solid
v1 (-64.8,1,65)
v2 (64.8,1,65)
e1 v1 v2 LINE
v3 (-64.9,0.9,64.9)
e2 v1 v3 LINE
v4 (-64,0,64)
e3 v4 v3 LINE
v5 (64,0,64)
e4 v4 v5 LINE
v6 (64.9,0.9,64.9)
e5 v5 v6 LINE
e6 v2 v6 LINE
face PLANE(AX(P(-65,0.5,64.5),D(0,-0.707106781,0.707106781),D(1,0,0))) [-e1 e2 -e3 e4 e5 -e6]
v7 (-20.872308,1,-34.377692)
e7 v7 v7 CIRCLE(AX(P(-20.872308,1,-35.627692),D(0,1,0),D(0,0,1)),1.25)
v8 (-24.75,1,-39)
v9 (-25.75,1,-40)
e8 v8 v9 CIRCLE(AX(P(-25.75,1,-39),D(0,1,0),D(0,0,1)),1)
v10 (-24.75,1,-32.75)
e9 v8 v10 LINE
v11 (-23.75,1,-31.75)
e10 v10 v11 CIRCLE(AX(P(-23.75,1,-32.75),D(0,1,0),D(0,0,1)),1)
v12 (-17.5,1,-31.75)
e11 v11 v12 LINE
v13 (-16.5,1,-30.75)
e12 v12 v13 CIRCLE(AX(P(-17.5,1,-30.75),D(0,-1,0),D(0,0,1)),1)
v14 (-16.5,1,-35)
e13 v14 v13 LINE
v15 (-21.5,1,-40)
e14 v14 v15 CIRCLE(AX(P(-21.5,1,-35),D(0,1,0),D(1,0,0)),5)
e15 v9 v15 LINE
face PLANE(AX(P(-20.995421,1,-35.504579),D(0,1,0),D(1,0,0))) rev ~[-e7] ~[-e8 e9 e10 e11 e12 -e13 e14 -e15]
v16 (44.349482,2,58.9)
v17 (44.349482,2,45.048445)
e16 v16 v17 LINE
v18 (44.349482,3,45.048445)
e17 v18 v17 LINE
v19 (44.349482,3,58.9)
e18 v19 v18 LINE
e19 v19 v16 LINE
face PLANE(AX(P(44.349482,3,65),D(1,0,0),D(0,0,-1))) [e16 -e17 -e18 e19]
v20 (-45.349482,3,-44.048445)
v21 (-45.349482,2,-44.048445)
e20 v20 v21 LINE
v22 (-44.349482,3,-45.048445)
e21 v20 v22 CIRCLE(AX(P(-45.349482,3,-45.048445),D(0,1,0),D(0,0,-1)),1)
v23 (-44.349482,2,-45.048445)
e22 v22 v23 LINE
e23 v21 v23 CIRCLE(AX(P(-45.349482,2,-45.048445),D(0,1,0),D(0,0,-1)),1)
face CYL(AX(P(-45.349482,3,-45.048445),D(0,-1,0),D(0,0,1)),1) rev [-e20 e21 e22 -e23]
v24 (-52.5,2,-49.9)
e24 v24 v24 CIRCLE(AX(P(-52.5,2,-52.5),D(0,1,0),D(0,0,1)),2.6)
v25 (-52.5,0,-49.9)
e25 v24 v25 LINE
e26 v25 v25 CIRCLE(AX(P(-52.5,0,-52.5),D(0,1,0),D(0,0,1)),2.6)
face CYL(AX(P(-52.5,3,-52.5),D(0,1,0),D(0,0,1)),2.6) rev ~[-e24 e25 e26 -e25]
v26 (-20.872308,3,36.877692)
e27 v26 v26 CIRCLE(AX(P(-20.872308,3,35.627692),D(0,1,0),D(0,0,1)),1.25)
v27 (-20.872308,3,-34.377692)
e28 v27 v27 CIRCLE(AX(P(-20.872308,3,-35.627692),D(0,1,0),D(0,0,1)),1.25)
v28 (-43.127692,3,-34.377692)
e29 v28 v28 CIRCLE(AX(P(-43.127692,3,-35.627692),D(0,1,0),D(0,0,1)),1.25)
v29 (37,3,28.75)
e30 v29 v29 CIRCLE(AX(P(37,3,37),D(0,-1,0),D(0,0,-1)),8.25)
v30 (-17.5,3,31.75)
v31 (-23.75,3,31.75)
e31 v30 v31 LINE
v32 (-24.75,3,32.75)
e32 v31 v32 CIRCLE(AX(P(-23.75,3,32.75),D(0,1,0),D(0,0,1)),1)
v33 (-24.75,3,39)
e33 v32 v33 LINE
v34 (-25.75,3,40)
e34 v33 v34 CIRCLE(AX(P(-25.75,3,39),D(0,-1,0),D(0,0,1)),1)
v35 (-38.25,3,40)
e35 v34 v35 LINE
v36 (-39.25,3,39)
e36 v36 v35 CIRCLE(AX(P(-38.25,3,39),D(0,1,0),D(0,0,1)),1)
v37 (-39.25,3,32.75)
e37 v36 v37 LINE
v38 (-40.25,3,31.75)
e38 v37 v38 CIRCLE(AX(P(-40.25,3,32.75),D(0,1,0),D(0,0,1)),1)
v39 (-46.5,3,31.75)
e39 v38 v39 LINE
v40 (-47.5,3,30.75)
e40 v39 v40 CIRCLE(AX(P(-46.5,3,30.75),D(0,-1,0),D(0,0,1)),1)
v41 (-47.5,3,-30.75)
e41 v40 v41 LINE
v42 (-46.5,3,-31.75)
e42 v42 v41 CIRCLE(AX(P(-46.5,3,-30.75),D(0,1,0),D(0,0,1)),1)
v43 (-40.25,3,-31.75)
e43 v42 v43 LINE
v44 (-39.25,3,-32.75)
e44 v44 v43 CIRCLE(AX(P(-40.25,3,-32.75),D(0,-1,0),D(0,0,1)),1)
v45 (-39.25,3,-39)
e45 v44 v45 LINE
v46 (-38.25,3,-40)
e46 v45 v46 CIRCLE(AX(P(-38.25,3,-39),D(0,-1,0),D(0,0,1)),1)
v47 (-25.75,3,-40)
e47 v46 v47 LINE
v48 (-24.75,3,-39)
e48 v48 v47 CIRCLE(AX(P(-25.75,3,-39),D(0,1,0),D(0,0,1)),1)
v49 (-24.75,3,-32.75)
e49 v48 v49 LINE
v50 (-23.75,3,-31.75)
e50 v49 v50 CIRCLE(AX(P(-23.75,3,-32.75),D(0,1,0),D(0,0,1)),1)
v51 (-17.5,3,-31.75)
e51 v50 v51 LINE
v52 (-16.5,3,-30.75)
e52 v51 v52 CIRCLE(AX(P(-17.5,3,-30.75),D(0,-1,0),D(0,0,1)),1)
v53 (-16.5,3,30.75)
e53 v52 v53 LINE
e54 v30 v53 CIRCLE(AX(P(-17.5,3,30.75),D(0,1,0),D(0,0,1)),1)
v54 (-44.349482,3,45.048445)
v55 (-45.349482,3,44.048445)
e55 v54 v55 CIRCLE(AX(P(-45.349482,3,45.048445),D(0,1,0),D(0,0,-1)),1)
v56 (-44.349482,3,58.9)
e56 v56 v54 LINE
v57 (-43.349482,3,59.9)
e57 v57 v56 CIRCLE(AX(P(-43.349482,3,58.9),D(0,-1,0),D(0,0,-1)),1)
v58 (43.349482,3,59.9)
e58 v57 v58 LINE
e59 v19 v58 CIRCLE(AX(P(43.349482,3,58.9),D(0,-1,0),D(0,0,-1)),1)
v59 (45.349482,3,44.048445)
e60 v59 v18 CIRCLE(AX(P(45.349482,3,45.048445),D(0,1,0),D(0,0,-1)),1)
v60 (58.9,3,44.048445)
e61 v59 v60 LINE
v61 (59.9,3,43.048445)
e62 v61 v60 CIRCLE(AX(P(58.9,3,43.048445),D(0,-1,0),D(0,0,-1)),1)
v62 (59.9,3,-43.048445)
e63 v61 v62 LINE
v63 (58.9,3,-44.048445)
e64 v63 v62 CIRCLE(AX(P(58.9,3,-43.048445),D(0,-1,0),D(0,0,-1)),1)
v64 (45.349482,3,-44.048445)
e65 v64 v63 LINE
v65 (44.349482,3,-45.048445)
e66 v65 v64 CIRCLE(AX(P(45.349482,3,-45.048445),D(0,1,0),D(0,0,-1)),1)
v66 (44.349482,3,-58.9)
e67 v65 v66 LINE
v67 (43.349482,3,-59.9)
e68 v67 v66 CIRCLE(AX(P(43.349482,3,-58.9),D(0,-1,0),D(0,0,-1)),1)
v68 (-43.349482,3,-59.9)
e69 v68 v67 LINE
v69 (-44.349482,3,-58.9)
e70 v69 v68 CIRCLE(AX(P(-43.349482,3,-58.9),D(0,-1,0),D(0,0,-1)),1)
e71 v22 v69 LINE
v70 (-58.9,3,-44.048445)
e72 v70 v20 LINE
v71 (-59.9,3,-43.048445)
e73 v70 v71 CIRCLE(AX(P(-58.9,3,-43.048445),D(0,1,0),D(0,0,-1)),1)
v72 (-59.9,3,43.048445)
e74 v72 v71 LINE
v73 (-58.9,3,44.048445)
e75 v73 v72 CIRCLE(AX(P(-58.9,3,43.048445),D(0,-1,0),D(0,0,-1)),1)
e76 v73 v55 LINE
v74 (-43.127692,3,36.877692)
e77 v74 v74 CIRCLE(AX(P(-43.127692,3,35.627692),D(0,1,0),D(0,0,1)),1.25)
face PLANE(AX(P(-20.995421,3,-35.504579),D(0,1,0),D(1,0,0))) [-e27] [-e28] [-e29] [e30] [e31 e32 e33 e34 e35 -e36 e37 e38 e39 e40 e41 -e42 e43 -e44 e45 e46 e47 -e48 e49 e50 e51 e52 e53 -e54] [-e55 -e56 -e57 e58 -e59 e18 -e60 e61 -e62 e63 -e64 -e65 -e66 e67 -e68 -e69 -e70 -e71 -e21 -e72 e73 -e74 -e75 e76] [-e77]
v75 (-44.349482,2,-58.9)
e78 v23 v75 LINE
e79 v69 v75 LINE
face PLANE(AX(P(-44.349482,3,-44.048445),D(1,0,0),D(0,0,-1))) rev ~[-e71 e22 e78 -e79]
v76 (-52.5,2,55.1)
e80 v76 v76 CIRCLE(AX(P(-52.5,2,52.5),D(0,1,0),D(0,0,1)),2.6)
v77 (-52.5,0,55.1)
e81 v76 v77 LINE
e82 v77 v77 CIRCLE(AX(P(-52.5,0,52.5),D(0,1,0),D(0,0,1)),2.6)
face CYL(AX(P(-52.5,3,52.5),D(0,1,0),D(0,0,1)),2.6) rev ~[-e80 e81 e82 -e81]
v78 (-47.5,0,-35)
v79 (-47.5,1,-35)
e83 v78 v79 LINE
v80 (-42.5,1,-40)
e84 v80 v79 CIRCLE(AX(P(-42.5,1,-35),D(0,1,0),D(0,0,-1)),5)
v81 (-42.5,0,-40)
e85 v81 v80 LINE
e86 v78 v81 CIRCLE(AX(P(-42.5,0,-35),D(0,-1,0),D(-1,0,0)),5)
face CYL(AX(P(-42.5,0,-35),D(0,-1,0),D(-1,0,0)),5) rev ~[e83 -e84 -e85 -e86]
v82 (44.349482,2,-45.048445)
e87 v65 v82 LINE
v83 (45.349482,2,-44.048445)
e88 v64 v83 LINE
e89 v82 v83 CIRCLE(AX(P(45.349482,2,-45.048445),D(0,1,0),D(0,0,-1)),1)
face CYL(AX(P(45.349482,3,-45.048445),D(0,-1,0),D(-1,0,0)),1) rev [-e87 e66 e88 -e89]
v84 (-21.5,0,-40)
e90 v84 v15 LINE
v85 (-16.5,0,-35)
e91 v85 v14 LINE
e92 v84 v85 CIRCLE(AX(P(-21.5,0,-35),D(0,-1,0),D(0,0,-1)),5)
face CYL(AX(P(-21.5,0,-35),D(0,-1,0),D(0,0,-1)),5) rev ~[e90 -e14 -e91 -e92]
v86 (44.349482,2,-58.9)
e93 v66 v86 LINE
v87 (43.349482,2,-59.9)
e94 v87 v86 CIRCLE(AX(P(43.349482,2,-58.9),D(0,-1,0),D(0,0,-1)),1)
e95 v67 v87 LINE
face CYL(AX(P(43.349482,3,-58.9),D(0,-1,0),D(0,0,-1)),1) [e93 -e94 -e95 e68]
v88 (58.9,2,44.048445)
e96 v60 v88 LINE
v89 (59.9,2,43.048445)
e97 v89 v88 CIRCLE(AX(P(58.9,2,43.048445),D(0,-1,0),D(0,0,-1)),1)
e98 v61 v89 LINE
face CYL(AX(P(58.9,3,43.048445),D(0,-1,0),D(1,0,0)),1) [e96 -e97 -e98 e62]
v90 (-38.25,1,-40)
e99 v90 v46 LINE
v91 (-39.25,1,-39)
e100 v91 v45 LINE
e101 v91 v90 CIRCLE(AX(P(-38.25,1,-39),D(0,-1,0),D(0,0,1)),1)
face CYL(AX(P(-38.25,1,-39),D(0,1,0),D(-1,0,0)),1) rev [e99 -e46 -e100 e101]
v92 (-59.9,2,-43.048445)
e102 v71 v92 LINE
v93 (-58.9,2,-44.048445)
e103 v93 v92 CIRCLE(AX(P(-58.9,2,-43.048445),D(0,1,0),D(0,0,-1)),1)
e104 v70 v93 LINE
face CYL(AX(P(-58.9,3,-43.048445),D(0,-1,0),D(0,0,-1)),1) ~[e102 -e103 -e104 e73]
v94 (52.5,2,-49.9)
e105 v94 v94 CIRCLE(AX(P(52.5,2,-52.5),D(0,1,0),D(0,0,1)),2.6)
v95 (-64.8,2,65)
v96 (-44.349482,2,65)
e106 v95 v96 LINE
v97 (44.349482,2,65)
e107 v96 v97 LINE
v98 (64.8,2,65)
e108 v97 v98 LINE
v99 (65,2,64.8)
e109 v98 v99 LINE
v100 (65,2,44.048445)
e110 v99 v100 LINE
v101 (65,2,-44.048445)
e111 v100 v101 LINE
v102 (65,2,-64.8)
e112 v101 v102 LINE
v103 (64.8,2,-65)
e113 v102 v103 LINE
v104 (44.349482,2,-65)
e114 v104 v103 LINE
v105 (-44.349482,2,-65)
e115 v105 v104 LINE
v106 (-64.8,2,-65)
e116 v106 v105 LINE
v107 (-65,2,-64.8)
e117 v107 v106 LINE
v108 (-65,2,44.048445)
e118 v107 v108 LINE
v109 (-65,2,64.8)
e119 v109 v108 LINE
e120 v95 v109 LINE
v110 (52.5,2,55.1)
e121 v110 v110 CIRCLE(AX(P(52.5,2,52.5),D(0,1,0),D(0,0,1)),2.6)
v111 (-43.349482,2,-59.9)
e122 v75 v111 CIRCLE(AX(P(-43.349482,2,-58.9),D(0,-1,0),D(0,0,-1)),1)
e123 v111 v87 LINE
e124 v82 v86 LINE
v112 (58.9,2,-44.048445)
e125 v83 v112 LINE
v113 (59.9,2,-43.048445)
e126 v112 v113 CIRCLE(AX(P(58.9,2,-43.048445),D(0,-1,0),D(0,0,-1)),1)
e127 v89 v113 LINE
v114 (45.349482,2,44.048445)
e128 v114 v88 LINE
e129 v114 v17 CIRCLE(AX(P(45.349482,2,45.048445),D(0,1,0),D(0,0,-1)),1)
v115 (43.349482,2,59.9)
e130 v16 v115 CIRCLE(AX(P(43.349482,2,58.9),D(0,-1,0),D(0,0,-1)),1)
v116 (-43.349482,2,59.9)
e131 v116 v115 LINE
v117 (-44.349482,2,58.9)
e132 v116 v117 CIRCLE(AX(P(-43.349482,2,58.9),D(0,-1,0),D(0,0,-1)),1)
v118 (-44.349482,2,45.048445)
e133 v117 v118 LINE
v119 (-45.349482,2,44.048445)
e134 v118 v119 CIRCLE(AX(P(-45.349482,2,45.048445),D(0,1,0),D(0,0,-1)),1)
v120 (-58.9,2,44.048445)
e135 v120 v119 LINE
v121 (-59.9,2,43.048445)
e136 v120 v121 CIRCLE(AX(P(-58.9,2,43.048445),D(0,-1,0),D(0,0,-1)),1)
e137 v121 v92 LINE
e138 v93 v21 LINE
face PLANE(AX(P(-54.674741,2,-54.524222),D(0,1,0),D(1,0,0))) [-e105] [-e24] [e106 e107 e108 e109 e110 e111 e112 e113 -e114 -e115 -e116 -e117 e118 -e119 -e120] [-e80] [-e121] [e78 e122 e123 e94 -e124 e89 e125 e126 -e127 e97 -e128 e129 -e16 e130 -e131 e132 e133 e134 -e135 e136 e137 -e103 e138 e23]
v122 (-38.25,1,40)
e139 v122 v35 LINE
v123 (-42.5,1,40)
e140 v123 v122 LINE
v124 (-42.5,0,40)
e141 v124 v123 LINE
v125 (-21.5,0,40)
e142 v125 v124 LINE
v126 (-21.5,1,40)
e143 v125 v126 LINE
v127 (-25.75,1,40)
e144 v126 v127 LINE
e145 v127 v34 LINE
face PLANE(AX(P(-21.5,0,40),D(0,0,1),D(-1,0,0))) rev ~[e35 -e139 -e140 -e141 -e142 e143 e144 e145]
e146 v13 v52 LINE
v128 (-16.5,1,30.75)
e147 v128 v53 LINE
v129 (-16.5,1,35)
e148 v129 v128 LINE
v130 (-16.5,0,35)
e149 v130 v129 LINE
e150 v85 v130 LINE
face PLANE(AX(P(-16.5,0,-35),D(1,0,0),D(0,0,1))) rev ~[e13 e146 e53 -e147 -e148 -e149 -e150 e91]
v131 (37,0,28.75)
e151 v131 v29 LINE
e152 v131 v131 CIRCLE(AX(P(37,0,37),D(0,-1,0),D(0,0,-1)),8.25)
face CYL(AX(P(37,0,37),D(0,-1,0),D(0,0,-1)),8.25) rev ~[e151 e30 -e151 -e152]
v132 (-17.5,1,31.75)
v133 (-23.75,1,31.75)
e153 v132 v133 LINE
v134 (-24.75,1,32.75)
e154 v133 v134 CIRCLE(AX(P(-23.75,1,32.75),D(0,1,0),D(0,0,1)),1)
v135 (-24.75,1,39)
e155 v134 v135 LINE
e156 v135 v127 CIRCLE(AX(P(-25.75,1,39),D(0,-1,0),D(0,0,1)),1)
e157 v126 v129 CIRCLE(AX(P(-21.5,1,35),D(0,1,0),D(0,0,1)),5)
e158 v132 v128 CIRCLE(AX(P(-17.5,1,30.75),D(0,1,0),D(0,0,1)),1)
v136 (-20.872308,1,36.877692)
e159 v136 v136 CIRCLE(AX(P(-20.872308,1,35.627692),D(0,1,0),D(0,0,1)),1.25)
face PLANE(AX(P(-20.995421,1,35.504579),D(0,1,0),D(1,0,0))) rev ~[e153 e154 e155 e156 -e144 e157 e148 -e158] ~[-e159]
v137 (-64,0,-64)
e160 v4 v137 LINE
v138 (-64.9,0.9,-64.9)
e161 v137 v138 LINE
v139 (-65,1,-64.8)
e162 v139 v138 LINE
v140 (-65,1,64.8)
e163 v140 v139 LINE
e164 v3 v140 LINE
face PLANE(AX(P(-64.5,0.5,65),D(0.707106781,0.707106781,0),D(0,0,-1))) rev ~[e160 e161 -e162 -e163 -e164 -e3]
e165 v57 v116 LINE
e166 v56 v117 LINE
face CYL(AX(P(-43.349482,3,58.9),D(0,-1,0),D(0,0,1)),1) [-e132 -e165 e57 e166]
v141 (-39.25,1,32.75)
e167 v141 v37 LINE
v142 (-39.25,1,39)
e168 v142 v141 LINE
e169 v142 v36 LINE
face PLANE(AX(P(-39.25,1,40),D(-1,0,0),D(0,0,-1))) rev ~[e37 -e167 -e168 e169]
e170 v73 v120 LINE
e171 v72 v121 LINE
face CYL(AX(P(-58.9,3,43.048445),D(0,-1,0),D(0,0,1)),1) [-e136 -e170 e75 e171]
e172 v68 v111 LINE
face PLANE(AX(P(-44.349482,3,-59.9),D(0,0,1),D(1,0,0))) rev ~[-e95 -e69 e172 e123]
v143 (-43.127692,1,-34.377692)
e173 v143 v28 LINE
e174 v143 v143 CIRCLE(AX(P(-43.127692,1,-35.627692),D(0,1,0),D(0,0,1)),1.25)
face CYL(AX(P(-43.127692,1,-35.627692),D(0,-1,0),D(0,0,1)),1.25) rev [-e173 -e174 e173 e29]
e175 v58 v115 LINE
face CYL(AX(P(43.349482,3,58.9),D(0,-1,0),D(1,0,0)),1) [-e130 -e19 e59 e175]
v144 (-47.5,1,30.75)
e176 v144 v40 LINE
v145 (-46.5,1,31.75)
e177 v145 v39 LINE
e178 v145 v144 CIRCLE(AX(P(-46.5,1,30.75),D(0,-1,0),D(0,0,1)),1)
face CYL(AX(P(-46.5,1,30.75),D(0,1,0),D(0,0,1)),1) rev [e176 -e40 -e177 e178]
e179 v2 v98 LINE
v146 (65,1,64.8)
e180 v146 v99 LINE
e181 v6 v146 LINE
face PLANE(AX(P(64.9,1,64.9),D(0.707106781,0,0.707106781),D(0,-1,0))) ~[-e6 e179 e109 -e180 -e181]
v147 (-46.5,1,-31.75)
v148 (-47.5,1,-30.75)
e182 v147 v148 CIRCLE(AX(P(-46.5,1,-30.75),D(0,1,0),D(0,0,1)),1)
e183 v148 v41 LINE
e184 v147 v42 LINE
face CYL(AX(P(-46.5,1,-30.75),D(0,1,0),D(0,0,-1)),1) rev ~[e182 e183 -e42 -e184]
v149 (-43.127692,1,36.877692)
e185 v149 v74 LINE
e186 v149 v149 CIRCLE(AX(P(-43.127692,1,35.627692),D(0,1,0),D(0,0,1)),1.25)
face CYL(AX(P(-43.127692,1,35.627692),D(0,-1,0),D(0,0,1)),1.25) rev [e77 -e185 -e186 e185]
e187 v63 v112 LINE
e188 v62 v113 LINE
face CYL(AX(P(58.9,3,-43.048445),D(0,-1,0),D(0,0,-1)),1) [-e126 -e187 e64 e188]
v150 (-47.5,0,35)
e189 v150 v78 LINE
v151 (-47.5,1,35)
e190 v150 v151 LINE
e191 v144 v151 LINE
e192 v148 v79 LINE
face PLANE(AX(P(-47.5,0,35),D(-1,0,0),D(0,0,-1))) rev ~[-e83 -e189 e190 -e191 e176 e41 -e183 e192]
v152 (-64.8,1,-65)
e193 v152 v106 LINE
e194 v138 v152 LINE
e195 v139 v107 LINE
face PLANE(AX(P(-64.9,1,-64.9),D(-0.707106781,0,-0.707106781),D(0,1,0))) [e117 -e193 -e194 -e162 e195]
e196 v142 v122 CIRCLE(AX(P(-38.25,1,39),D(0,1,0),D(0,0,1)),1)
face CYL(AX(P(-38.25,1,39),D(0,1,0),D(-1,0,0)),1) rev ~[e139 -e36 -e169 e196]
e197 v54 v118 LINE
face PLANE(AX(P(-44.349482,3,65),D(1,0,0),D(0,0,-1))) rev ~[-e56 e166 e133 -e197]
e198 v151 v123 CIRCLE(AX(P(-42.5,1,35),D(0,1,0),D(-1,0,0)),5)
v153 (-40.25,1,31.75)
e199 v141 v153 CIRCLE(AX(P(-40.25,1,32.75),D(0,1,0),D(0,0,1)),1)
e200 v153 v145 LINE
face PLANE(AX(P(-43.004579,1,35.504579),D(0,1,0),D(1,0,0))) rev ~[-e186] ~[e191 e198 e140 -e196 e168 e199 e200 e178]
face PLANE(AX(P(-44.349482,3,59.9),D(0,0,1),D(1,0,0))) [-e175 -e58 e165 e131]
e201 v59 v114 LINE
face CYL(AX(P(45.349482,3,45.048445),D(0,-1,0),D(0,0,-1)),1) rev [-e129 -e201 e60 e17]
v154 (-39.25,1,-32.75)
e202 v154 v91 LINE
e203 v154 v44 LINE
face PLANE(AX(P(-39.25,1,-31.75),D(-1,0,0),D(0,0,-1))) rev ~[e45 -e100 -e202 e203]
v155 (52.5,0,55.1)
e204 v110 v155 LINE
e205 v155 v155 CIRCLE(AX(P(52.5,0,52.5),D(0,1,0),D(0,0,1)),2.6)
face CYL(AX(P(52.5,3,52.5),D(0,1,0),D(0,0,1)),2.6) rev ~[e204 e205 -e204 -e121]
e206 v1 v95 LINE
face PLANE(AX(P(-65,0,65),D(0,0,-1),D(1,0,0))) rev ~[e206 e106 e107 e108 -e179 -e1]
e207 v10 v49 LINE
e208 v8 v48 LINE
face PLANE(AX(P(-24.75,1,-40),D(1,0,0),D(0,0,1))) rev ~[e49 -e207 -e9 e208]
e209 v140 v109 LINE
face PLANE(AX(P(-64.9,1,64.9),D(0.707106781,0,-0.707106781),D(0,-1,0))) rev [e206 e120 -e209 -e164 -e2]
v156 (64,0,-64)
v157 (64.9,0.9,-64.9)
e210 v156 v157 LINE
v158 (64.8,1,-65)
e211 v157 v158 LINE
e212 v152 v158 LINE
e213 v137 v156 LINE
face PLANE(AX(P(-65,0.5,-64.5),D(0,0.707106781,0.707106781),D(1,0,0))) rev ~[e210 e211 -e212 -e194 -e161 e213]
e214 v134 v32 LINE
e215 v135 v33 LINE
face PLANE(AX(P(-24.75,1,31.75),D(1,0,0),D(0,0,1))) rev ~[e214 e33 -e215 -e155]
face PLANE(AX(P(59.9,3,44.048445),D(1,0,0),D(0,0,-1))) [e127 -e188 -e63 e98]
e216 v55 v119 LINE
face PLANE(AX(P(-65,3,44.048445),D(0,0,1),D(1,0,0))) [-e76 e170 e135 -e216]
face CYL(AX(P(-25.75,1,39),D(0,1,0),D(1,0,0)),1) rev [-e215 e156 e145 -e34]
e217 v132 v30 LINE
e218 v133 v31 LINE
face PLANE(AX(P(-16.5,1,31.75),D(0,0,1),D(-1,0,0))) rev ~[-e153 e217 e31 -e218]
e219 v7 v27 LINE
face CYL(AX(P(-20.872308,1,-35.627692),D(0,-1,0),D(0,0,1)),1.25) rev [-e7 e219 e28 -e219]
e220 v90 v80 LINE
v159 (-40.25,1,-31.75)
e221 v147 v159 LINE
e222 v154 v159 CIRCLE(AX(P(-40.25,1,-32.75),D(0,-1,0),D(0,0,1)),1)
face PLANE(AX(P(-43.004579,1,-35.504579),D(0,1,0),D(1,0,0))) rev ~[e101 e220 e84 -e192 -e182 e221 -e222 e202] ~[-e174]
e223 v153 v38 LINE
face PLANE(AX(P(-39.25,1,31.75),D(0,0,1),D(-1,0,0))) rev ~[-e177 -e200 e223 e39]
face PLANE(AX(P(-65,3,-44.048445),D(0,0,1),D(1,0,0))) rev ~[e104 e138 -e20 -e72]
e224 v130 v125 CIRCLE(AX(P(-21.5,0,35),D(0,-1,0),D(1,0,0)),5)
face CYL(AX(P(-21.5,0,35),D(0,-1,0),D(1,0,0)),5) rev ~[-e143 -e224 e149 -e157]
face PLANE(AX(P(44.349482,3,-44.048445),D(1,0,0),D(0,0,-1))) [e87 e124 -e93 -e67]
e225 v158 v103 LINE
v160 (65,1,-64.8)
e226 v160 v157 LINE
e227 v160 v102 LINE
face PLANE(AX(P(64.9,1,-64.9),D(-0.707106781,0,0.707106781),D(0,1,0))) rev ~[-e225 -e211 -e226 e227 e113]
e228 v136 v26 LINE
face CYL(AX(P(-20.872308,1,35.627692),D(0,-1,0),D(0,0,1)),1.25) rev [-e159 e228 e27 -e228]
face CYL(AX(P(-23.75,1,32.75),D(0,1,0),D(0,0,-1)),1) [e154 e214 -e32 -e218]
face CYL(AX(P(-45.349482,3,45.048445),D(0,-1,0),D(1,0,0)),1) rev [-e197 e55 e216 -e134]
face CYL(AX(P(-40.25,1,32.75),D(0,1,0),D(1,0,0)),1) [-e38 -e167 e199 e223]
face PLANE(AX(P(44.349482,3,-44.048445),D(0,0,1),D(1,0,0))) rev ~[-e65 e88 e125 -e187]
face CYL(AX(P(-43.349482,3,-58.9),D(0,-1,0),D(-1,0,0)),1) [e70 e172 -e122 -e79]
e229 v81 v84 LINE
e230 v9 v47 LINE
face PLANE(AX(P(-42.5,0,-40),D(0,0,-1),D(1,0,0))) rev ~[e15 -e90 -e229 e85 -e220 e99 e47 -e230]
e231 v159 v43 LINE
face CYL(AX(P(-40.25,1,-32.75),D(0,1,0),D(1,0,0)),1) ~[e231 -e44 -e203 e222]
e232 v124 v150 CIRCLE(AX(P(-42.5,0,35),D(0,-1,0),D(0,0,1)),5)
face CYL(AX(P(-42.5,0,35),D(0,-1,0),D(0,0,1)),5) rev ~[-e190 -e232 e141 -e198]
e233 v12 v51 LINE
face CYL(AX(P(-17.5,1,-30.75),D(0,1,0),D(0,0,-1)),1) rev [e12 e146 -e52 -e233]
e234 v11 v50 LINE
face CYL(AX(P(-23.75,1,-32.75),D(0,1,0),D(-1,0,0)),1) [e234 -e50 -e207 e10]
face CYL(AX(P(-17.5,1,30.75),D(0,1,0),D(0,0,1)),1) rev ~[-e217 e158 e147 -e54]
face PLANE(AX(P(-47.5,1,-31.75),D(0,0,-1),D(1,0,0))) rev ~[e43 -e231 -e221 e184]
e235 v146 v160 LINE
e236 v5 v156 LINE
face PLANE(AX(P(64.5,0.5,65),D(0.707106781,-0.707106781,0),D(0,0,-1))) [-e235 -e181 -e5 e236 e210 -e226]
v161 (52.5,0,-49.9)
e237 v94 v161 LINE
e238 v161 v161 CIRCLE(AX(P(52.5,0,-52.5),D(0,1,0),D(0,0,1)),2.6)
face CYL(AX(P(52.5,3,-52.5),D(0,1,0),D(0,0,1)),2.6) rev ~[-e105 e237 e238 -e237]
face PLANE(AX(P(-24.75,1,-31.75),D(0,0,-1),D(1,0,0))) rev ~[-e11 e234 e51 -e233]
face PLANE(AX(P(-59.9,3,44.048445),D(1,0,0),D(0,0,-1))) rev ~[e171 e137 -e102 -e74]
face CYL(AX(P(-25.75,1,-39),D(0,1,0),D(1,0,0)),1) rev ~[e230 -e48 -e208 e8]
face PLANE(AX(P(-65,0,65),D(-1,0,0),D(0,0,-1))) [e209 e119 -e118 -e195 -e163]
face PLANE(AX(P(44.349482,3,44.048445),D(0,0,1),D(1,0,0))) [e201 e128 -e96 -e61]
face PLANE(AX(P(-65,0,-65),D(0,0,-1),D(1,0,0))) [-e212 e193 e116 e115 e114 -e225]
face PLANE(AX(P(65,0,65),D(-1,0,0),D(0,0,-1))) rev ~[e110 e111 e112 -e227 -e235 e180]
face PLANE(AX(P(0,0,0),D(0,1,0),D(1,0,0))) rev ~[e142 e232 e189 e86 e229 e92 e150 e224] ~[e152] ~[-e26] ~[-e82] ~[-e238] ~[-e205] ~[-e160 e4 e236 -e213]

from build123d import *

# Parameters (mm, degrees)
SKETCH_1_W          = 130
SKETCH_1_H          = 130
EXTRUDE_1_DEPTH     = 3
SKETCH_2_R          = 2.6
CUT_EXTRUDE_1_DEPTH = 92.972822073
SKETCH_4_W          = 20.650518397
SKETCH_4_H          = 20.951555191
CUT_EXTRUDE_2_DEPTH = 1
SKETCH_5_W          = 88.698963206
SKETCH_5_H          = 5.1
SKETCH_5_W_2        = 5.1
SKETCH_5_H_2        = 88.096889618
CUT_EXTRUDE_3_DEPTH = 1
CUT_EXTRUDE_4_DEPTH = 3
EXTRUDE_START       = -2
SKETCH_7_R          = 1.25
EXTRUDE_2_DEPTH     = 2
FILLET_1_R          = 1
SKETCH_15_R         = 8.25
CUT_EXTRUDE_9_DEPTH = 92.972822073
CHAMFER_1_SIZE      = 1
CHAMFER_2_SIZE      = 0.2
FILLET_3_R          = 1
FILLET_4_R          = 1


with BuildPart() as part:
    # 草图1 → 凸台-拉伸1 (new body)
    with BuildSketch(Plane(origin=(0, 0, 0), x_dir=(1, 0, 0), z_dir=(0, 1, 0))):
        Rectangle(SKETCH_1_W, SKETCH_1_H)
    extrude(amount=EXTRUDE_1_DEPTH)

    # 草图2 → 切除-拉伸1 (cut, through all)
    with BuildSketch(Plane(origin=(0, 3, 0), x_dir=(1, 0, 0), z_dir=(0, 1, 0))):
        with Locations(Location((52.5, 52.5, 0), (0, 0, 270))):
            Circle(SKETCH_2_R)
        with Locations(Location((52.5, -52.5, 0), (0, 0, 270))):
            Circle(SKETCH_2_R)
        with Locations(Location((-52.5, -52.5, 0), (0, 0, 270))):
            Circle(SKETCH_2_R)
        with Locations(Location((-52.5, 52.5, 0), (0, 0, 270))):
            Circle(SKETCH_2_R)
    extrude(amount=-CUT_EXTRUDE_1_DEPTH, mode=Mode.SUBTRACT)

    # 草图4 → 切除-拉伸2 (cut)
    with BuildSketch(Plane(origin=(0, 3, 0), x_dir=(1, 0, 0), z_dir=(0, 1, 0))):
        with Locations((54.674740802, 54.524222405)):
            Rectangle(SKETCH_4_W, SKETCH_4_H)
        with Locations((-54.674740802, -54.524222405)):
            Rectangle(SKETCH_4_W, SKETCH_4_H)
        with Locations((54.674740802, -54.524222405)):
            Rectangle(SKETCH_4_W, SKETCH_4_H)
        with Locations((-54.674740802, 54.524222405)):
            Rectangle(SKETCH_4_W, SKETCH_4_H)
    extrude(amount=-CUT_EXTRUDE_2_DEPTH, mode=Mode.SUBTRACT)

    # 草图5 → 切除-拉伸3 (cut)
    with BuildSketch(Plane(origin=(0, 3, 0), x_dir=(1, 0, 0), z_dir=(0, 1, 0))):
        with Locations((0, 62.45)):
            Rectangle(SKETCH_5_W, SKETCH_5_H)
        with Locations((62.45, 0)):
            Rectangle(SKETCH_5_W_2, SKETCH_5_H_2)
        with Locations((0, -62.45)):
            Rectangle(SKETCH_5_W, SKETCH_5_H)
        with Locations((-62.45, 0)):
            Rectangle(SKETCH_5_W_2, SKETCH_5_H_2)
    extrude(amount=-CUT_EXTRUDE_3_DEPTH, mode=Mode.SUBTRACT)

    # 草图6 → 切除-拉伸4 (cut)
    with BuildSketch(Plane(origin=(0, 0, 0), x_dir=(-1, 0, 0), z_dir=(0, -1, 0))):
        with BuildLine():
            Line((47.5, -35), (47.5, 35))
            ThreePointArc((47.5, 35), (46.035533906, 38.535533906), (42.5, 40))
            Line((42.5, 40), (21.5, 40))
            ThreePointArc((21.5, 40), (17.964466094, 38.535533906), (16.5, 35))
            Line((16.5, 35), (16.5, -35))
            ThreePointArc((16.5, -35), (17.964466094, -38.535533906), (21.5, -40))
            Line((21.5, -40), (42.5, -40))
            ThreePointArc((42.5, -40), (46.035533906, -38.535533906), (47.5, -35))
        make_face()
    extrude(amount=-CUT_EXTRUDE_4_DEPTH, mode=Mode.SUBTRACT)

    # 草图7 → 凸台-拉伸2 (add)
    # profile 1 of 4: a face of its own
    with BuildSketch(Plane(origin=(0, 3, 0), x_dir=(1, 0, 0), z_dir=(0, 1, 0)).offset(EXTRUDE_START)):
        with BuildLine():
            Line((-24.75, 40), (-24.75, 31.75))
            Line((-24.75, 31.75), (-16.5, 31.75))
            Line((-16.5, 31.75), (-16.5, 35))
            ThreePointArc((-16.5, 35), (-17.964466094, 38.535533906), (-21.5, 40))
            Line((-21.5, 40), (-24.75, 40))
        make_face()
        with Locations(Location((-20.872307757, 35.627692243, 0), (0, 0, 270))):
            Circle(SKETCH_7_R, mode=Mode.SUBTRACT)
    # profile 2 of 4: a face of its own
    with BuildSketch(Plane(origin=(0, 3, 0), x_dir=(1, 0, 0), z_dir=(0, 1, 0)).offset(EXTRUDE_START)):
        with BuildLine():
            Line((-16.5, -31.75), (-24.75, -31.75))
            Line((-24.75, -31.75), (-24.75, -40))
            Line((-24.75, -40), (-21.5, -40))
            ThreePointArc((-21.5, -40), (-17.964466094, -38.535533906), (-16.5, -35))
            Line((-16.5, -35), (-16.5, -31.75))
        make_face()
        with Locations(Location((-20.872307757, -35.627692243, 0), (0, 0, 270))):
            Circle(SKETCH_7_R, mode=Mode.SUBTRACT)
    # profile 3 of 4: a face of its own
    with BuildSketch(Plane(origin=(0, 3, 0), x_dir=(1, 0, 0), z_dir=(0, 1, 0)).offset(EXTRUDE_START)):
        with BuildLine():
            Line((-39.25, -40), (-39.25, -31.75))
            Line((-39.25, -31.75), (-47.5, -31.75))
            Line((-47.5, -31.75), (-47.5, -35))
            ThreePointArc((-47.5, -35), (-46.035533906, -38.535533906), (-42.5, -40))
            Line((-42.5, -40), (-39.25, -40))
        make_face()
        with Locations(Location((-43.127692243, -35.627692243, 0), (0, 0, 270))):
            Circle(SKETCH_7_R, mode=Mode.SUBTRACT)
    # profile 4 of 4: a face of its own
    with BuildSketch(Plane(origin=(0, 3, 0), x_dir=(1, 0, 0), z_dir=(0, 1, 0)).offset(EXTRUDE_START)):
        with BuildLine():
            Line((-47.5, 31.75), (-39.25, 31.75))
            Line((-39.25, 31.75), (-39.25, 40))
            Line((-39.25, 40), (-42.5, 40))
            ThreePointArc((-42.5, 40), (-46.035533906, 38.535533906), (-47.5, 35))
            Line((-47.5, 35), (-47.5, 31.75))
        make_face()
        with Locations(Location((-43.127692243, 35.627692243, 0), (0, 0, 270))):
            Circle(SKETCH_7_R, mode=Mode.SUBTRACT)
    extrude(amount=EXTRUDE_2_DEPTH)

    # 圆角1
    fillet_1_edges = [part.edges().sort_by_distance(p)[0] for p in [
        (-24.75, 2, -31.75),
        (-39.25, 2, -31.75),
        (-39.25, 2, 31.75),
        (-24.75, 2, 31.75),
    ]]
    fillet(fillet_1_edges, radius=FILLET_1_R)

    # 草图15 → 切除-拉伸9 (cut, through all)
    with BuildSketch(Plane(origin=(0, 0, 0), x_dir=(-1, 0, 0), z_dir=(0, -1, 0))):
        with Locations(Location((-37, -37, 0), (0, 0, 90))):
            Circle(SKETCH_15_R)
    extrude(amount=-CUT_EXTRUDE_9_DEPTH, mode=Mode.SUBTRACT)

    # 倒角1
    chamfer_1_edges = [part.edges().sort_by_distance(p)[0] for p in [
        (0, 0, 65),
        (-65, 0, 0),
        (0, 0, -65),
        (65, 0, 0),
    ]]
    chamfer(chamfer_1_edges, length=CHAMFER_1_SIZE)

    # 倒角2
    chamfer_2_edges = [part.edges().sort_by_distance(p)[0] for p in [
        (65, 1.5, 65),
        (-65, 1.5, 65),
        (-65, 1.5, -65),
        (65, 1.5, -65),
    ]]
    chamfer(chamfer_2_edges, length=CHAMFER_2_SIZE)

    # 圆角3
    fillet_3_edges = [part.edges().sort_by_distance(p)[0] for p in [
        (59.9, 2.5, 44.048444809),
        (59.9, 2.5, -44.048444809),
        (-44.349481603, 2.5, -59.9),
        (44.349481603, 2.5, -59.9),
        (44.349481603, 2.5, 59.9),
        (-44.349481603, 2.5, 59.9),
        (-59.9, 2.5, 44.048444809),
        (-59.9, 2.5, -44.048444809),
        (-44.349481603, 2.5, -44.048444809),
        (-44.349481603, 2.5, 44.048444809),
        (44.349481603, 2.5, 44.048444809),
        (44.349481603, 2.5, -44.048444809),
    ]]
    fillet(fillet_3_edges, radius=FILLET_3_R)

    # 圆角4
    fillet_4_edges = [part.edges().sort_by_distance(p)[0] for p in [
        (-24.75, 2, -40),
        (-16.5, 2, -31.75),
        (-47.5, 2, -31.75),
        (-39.25, 2, -40),
        (-39.25, 2, 40),
        (-47.5, 2, 31.75),
        (-16.5, 2, 31.75),
        (-24.75, 2, 40),
    ]]
    fillet(fillet_4_edges, radius=FILLET_4_R)


solid = part.part
